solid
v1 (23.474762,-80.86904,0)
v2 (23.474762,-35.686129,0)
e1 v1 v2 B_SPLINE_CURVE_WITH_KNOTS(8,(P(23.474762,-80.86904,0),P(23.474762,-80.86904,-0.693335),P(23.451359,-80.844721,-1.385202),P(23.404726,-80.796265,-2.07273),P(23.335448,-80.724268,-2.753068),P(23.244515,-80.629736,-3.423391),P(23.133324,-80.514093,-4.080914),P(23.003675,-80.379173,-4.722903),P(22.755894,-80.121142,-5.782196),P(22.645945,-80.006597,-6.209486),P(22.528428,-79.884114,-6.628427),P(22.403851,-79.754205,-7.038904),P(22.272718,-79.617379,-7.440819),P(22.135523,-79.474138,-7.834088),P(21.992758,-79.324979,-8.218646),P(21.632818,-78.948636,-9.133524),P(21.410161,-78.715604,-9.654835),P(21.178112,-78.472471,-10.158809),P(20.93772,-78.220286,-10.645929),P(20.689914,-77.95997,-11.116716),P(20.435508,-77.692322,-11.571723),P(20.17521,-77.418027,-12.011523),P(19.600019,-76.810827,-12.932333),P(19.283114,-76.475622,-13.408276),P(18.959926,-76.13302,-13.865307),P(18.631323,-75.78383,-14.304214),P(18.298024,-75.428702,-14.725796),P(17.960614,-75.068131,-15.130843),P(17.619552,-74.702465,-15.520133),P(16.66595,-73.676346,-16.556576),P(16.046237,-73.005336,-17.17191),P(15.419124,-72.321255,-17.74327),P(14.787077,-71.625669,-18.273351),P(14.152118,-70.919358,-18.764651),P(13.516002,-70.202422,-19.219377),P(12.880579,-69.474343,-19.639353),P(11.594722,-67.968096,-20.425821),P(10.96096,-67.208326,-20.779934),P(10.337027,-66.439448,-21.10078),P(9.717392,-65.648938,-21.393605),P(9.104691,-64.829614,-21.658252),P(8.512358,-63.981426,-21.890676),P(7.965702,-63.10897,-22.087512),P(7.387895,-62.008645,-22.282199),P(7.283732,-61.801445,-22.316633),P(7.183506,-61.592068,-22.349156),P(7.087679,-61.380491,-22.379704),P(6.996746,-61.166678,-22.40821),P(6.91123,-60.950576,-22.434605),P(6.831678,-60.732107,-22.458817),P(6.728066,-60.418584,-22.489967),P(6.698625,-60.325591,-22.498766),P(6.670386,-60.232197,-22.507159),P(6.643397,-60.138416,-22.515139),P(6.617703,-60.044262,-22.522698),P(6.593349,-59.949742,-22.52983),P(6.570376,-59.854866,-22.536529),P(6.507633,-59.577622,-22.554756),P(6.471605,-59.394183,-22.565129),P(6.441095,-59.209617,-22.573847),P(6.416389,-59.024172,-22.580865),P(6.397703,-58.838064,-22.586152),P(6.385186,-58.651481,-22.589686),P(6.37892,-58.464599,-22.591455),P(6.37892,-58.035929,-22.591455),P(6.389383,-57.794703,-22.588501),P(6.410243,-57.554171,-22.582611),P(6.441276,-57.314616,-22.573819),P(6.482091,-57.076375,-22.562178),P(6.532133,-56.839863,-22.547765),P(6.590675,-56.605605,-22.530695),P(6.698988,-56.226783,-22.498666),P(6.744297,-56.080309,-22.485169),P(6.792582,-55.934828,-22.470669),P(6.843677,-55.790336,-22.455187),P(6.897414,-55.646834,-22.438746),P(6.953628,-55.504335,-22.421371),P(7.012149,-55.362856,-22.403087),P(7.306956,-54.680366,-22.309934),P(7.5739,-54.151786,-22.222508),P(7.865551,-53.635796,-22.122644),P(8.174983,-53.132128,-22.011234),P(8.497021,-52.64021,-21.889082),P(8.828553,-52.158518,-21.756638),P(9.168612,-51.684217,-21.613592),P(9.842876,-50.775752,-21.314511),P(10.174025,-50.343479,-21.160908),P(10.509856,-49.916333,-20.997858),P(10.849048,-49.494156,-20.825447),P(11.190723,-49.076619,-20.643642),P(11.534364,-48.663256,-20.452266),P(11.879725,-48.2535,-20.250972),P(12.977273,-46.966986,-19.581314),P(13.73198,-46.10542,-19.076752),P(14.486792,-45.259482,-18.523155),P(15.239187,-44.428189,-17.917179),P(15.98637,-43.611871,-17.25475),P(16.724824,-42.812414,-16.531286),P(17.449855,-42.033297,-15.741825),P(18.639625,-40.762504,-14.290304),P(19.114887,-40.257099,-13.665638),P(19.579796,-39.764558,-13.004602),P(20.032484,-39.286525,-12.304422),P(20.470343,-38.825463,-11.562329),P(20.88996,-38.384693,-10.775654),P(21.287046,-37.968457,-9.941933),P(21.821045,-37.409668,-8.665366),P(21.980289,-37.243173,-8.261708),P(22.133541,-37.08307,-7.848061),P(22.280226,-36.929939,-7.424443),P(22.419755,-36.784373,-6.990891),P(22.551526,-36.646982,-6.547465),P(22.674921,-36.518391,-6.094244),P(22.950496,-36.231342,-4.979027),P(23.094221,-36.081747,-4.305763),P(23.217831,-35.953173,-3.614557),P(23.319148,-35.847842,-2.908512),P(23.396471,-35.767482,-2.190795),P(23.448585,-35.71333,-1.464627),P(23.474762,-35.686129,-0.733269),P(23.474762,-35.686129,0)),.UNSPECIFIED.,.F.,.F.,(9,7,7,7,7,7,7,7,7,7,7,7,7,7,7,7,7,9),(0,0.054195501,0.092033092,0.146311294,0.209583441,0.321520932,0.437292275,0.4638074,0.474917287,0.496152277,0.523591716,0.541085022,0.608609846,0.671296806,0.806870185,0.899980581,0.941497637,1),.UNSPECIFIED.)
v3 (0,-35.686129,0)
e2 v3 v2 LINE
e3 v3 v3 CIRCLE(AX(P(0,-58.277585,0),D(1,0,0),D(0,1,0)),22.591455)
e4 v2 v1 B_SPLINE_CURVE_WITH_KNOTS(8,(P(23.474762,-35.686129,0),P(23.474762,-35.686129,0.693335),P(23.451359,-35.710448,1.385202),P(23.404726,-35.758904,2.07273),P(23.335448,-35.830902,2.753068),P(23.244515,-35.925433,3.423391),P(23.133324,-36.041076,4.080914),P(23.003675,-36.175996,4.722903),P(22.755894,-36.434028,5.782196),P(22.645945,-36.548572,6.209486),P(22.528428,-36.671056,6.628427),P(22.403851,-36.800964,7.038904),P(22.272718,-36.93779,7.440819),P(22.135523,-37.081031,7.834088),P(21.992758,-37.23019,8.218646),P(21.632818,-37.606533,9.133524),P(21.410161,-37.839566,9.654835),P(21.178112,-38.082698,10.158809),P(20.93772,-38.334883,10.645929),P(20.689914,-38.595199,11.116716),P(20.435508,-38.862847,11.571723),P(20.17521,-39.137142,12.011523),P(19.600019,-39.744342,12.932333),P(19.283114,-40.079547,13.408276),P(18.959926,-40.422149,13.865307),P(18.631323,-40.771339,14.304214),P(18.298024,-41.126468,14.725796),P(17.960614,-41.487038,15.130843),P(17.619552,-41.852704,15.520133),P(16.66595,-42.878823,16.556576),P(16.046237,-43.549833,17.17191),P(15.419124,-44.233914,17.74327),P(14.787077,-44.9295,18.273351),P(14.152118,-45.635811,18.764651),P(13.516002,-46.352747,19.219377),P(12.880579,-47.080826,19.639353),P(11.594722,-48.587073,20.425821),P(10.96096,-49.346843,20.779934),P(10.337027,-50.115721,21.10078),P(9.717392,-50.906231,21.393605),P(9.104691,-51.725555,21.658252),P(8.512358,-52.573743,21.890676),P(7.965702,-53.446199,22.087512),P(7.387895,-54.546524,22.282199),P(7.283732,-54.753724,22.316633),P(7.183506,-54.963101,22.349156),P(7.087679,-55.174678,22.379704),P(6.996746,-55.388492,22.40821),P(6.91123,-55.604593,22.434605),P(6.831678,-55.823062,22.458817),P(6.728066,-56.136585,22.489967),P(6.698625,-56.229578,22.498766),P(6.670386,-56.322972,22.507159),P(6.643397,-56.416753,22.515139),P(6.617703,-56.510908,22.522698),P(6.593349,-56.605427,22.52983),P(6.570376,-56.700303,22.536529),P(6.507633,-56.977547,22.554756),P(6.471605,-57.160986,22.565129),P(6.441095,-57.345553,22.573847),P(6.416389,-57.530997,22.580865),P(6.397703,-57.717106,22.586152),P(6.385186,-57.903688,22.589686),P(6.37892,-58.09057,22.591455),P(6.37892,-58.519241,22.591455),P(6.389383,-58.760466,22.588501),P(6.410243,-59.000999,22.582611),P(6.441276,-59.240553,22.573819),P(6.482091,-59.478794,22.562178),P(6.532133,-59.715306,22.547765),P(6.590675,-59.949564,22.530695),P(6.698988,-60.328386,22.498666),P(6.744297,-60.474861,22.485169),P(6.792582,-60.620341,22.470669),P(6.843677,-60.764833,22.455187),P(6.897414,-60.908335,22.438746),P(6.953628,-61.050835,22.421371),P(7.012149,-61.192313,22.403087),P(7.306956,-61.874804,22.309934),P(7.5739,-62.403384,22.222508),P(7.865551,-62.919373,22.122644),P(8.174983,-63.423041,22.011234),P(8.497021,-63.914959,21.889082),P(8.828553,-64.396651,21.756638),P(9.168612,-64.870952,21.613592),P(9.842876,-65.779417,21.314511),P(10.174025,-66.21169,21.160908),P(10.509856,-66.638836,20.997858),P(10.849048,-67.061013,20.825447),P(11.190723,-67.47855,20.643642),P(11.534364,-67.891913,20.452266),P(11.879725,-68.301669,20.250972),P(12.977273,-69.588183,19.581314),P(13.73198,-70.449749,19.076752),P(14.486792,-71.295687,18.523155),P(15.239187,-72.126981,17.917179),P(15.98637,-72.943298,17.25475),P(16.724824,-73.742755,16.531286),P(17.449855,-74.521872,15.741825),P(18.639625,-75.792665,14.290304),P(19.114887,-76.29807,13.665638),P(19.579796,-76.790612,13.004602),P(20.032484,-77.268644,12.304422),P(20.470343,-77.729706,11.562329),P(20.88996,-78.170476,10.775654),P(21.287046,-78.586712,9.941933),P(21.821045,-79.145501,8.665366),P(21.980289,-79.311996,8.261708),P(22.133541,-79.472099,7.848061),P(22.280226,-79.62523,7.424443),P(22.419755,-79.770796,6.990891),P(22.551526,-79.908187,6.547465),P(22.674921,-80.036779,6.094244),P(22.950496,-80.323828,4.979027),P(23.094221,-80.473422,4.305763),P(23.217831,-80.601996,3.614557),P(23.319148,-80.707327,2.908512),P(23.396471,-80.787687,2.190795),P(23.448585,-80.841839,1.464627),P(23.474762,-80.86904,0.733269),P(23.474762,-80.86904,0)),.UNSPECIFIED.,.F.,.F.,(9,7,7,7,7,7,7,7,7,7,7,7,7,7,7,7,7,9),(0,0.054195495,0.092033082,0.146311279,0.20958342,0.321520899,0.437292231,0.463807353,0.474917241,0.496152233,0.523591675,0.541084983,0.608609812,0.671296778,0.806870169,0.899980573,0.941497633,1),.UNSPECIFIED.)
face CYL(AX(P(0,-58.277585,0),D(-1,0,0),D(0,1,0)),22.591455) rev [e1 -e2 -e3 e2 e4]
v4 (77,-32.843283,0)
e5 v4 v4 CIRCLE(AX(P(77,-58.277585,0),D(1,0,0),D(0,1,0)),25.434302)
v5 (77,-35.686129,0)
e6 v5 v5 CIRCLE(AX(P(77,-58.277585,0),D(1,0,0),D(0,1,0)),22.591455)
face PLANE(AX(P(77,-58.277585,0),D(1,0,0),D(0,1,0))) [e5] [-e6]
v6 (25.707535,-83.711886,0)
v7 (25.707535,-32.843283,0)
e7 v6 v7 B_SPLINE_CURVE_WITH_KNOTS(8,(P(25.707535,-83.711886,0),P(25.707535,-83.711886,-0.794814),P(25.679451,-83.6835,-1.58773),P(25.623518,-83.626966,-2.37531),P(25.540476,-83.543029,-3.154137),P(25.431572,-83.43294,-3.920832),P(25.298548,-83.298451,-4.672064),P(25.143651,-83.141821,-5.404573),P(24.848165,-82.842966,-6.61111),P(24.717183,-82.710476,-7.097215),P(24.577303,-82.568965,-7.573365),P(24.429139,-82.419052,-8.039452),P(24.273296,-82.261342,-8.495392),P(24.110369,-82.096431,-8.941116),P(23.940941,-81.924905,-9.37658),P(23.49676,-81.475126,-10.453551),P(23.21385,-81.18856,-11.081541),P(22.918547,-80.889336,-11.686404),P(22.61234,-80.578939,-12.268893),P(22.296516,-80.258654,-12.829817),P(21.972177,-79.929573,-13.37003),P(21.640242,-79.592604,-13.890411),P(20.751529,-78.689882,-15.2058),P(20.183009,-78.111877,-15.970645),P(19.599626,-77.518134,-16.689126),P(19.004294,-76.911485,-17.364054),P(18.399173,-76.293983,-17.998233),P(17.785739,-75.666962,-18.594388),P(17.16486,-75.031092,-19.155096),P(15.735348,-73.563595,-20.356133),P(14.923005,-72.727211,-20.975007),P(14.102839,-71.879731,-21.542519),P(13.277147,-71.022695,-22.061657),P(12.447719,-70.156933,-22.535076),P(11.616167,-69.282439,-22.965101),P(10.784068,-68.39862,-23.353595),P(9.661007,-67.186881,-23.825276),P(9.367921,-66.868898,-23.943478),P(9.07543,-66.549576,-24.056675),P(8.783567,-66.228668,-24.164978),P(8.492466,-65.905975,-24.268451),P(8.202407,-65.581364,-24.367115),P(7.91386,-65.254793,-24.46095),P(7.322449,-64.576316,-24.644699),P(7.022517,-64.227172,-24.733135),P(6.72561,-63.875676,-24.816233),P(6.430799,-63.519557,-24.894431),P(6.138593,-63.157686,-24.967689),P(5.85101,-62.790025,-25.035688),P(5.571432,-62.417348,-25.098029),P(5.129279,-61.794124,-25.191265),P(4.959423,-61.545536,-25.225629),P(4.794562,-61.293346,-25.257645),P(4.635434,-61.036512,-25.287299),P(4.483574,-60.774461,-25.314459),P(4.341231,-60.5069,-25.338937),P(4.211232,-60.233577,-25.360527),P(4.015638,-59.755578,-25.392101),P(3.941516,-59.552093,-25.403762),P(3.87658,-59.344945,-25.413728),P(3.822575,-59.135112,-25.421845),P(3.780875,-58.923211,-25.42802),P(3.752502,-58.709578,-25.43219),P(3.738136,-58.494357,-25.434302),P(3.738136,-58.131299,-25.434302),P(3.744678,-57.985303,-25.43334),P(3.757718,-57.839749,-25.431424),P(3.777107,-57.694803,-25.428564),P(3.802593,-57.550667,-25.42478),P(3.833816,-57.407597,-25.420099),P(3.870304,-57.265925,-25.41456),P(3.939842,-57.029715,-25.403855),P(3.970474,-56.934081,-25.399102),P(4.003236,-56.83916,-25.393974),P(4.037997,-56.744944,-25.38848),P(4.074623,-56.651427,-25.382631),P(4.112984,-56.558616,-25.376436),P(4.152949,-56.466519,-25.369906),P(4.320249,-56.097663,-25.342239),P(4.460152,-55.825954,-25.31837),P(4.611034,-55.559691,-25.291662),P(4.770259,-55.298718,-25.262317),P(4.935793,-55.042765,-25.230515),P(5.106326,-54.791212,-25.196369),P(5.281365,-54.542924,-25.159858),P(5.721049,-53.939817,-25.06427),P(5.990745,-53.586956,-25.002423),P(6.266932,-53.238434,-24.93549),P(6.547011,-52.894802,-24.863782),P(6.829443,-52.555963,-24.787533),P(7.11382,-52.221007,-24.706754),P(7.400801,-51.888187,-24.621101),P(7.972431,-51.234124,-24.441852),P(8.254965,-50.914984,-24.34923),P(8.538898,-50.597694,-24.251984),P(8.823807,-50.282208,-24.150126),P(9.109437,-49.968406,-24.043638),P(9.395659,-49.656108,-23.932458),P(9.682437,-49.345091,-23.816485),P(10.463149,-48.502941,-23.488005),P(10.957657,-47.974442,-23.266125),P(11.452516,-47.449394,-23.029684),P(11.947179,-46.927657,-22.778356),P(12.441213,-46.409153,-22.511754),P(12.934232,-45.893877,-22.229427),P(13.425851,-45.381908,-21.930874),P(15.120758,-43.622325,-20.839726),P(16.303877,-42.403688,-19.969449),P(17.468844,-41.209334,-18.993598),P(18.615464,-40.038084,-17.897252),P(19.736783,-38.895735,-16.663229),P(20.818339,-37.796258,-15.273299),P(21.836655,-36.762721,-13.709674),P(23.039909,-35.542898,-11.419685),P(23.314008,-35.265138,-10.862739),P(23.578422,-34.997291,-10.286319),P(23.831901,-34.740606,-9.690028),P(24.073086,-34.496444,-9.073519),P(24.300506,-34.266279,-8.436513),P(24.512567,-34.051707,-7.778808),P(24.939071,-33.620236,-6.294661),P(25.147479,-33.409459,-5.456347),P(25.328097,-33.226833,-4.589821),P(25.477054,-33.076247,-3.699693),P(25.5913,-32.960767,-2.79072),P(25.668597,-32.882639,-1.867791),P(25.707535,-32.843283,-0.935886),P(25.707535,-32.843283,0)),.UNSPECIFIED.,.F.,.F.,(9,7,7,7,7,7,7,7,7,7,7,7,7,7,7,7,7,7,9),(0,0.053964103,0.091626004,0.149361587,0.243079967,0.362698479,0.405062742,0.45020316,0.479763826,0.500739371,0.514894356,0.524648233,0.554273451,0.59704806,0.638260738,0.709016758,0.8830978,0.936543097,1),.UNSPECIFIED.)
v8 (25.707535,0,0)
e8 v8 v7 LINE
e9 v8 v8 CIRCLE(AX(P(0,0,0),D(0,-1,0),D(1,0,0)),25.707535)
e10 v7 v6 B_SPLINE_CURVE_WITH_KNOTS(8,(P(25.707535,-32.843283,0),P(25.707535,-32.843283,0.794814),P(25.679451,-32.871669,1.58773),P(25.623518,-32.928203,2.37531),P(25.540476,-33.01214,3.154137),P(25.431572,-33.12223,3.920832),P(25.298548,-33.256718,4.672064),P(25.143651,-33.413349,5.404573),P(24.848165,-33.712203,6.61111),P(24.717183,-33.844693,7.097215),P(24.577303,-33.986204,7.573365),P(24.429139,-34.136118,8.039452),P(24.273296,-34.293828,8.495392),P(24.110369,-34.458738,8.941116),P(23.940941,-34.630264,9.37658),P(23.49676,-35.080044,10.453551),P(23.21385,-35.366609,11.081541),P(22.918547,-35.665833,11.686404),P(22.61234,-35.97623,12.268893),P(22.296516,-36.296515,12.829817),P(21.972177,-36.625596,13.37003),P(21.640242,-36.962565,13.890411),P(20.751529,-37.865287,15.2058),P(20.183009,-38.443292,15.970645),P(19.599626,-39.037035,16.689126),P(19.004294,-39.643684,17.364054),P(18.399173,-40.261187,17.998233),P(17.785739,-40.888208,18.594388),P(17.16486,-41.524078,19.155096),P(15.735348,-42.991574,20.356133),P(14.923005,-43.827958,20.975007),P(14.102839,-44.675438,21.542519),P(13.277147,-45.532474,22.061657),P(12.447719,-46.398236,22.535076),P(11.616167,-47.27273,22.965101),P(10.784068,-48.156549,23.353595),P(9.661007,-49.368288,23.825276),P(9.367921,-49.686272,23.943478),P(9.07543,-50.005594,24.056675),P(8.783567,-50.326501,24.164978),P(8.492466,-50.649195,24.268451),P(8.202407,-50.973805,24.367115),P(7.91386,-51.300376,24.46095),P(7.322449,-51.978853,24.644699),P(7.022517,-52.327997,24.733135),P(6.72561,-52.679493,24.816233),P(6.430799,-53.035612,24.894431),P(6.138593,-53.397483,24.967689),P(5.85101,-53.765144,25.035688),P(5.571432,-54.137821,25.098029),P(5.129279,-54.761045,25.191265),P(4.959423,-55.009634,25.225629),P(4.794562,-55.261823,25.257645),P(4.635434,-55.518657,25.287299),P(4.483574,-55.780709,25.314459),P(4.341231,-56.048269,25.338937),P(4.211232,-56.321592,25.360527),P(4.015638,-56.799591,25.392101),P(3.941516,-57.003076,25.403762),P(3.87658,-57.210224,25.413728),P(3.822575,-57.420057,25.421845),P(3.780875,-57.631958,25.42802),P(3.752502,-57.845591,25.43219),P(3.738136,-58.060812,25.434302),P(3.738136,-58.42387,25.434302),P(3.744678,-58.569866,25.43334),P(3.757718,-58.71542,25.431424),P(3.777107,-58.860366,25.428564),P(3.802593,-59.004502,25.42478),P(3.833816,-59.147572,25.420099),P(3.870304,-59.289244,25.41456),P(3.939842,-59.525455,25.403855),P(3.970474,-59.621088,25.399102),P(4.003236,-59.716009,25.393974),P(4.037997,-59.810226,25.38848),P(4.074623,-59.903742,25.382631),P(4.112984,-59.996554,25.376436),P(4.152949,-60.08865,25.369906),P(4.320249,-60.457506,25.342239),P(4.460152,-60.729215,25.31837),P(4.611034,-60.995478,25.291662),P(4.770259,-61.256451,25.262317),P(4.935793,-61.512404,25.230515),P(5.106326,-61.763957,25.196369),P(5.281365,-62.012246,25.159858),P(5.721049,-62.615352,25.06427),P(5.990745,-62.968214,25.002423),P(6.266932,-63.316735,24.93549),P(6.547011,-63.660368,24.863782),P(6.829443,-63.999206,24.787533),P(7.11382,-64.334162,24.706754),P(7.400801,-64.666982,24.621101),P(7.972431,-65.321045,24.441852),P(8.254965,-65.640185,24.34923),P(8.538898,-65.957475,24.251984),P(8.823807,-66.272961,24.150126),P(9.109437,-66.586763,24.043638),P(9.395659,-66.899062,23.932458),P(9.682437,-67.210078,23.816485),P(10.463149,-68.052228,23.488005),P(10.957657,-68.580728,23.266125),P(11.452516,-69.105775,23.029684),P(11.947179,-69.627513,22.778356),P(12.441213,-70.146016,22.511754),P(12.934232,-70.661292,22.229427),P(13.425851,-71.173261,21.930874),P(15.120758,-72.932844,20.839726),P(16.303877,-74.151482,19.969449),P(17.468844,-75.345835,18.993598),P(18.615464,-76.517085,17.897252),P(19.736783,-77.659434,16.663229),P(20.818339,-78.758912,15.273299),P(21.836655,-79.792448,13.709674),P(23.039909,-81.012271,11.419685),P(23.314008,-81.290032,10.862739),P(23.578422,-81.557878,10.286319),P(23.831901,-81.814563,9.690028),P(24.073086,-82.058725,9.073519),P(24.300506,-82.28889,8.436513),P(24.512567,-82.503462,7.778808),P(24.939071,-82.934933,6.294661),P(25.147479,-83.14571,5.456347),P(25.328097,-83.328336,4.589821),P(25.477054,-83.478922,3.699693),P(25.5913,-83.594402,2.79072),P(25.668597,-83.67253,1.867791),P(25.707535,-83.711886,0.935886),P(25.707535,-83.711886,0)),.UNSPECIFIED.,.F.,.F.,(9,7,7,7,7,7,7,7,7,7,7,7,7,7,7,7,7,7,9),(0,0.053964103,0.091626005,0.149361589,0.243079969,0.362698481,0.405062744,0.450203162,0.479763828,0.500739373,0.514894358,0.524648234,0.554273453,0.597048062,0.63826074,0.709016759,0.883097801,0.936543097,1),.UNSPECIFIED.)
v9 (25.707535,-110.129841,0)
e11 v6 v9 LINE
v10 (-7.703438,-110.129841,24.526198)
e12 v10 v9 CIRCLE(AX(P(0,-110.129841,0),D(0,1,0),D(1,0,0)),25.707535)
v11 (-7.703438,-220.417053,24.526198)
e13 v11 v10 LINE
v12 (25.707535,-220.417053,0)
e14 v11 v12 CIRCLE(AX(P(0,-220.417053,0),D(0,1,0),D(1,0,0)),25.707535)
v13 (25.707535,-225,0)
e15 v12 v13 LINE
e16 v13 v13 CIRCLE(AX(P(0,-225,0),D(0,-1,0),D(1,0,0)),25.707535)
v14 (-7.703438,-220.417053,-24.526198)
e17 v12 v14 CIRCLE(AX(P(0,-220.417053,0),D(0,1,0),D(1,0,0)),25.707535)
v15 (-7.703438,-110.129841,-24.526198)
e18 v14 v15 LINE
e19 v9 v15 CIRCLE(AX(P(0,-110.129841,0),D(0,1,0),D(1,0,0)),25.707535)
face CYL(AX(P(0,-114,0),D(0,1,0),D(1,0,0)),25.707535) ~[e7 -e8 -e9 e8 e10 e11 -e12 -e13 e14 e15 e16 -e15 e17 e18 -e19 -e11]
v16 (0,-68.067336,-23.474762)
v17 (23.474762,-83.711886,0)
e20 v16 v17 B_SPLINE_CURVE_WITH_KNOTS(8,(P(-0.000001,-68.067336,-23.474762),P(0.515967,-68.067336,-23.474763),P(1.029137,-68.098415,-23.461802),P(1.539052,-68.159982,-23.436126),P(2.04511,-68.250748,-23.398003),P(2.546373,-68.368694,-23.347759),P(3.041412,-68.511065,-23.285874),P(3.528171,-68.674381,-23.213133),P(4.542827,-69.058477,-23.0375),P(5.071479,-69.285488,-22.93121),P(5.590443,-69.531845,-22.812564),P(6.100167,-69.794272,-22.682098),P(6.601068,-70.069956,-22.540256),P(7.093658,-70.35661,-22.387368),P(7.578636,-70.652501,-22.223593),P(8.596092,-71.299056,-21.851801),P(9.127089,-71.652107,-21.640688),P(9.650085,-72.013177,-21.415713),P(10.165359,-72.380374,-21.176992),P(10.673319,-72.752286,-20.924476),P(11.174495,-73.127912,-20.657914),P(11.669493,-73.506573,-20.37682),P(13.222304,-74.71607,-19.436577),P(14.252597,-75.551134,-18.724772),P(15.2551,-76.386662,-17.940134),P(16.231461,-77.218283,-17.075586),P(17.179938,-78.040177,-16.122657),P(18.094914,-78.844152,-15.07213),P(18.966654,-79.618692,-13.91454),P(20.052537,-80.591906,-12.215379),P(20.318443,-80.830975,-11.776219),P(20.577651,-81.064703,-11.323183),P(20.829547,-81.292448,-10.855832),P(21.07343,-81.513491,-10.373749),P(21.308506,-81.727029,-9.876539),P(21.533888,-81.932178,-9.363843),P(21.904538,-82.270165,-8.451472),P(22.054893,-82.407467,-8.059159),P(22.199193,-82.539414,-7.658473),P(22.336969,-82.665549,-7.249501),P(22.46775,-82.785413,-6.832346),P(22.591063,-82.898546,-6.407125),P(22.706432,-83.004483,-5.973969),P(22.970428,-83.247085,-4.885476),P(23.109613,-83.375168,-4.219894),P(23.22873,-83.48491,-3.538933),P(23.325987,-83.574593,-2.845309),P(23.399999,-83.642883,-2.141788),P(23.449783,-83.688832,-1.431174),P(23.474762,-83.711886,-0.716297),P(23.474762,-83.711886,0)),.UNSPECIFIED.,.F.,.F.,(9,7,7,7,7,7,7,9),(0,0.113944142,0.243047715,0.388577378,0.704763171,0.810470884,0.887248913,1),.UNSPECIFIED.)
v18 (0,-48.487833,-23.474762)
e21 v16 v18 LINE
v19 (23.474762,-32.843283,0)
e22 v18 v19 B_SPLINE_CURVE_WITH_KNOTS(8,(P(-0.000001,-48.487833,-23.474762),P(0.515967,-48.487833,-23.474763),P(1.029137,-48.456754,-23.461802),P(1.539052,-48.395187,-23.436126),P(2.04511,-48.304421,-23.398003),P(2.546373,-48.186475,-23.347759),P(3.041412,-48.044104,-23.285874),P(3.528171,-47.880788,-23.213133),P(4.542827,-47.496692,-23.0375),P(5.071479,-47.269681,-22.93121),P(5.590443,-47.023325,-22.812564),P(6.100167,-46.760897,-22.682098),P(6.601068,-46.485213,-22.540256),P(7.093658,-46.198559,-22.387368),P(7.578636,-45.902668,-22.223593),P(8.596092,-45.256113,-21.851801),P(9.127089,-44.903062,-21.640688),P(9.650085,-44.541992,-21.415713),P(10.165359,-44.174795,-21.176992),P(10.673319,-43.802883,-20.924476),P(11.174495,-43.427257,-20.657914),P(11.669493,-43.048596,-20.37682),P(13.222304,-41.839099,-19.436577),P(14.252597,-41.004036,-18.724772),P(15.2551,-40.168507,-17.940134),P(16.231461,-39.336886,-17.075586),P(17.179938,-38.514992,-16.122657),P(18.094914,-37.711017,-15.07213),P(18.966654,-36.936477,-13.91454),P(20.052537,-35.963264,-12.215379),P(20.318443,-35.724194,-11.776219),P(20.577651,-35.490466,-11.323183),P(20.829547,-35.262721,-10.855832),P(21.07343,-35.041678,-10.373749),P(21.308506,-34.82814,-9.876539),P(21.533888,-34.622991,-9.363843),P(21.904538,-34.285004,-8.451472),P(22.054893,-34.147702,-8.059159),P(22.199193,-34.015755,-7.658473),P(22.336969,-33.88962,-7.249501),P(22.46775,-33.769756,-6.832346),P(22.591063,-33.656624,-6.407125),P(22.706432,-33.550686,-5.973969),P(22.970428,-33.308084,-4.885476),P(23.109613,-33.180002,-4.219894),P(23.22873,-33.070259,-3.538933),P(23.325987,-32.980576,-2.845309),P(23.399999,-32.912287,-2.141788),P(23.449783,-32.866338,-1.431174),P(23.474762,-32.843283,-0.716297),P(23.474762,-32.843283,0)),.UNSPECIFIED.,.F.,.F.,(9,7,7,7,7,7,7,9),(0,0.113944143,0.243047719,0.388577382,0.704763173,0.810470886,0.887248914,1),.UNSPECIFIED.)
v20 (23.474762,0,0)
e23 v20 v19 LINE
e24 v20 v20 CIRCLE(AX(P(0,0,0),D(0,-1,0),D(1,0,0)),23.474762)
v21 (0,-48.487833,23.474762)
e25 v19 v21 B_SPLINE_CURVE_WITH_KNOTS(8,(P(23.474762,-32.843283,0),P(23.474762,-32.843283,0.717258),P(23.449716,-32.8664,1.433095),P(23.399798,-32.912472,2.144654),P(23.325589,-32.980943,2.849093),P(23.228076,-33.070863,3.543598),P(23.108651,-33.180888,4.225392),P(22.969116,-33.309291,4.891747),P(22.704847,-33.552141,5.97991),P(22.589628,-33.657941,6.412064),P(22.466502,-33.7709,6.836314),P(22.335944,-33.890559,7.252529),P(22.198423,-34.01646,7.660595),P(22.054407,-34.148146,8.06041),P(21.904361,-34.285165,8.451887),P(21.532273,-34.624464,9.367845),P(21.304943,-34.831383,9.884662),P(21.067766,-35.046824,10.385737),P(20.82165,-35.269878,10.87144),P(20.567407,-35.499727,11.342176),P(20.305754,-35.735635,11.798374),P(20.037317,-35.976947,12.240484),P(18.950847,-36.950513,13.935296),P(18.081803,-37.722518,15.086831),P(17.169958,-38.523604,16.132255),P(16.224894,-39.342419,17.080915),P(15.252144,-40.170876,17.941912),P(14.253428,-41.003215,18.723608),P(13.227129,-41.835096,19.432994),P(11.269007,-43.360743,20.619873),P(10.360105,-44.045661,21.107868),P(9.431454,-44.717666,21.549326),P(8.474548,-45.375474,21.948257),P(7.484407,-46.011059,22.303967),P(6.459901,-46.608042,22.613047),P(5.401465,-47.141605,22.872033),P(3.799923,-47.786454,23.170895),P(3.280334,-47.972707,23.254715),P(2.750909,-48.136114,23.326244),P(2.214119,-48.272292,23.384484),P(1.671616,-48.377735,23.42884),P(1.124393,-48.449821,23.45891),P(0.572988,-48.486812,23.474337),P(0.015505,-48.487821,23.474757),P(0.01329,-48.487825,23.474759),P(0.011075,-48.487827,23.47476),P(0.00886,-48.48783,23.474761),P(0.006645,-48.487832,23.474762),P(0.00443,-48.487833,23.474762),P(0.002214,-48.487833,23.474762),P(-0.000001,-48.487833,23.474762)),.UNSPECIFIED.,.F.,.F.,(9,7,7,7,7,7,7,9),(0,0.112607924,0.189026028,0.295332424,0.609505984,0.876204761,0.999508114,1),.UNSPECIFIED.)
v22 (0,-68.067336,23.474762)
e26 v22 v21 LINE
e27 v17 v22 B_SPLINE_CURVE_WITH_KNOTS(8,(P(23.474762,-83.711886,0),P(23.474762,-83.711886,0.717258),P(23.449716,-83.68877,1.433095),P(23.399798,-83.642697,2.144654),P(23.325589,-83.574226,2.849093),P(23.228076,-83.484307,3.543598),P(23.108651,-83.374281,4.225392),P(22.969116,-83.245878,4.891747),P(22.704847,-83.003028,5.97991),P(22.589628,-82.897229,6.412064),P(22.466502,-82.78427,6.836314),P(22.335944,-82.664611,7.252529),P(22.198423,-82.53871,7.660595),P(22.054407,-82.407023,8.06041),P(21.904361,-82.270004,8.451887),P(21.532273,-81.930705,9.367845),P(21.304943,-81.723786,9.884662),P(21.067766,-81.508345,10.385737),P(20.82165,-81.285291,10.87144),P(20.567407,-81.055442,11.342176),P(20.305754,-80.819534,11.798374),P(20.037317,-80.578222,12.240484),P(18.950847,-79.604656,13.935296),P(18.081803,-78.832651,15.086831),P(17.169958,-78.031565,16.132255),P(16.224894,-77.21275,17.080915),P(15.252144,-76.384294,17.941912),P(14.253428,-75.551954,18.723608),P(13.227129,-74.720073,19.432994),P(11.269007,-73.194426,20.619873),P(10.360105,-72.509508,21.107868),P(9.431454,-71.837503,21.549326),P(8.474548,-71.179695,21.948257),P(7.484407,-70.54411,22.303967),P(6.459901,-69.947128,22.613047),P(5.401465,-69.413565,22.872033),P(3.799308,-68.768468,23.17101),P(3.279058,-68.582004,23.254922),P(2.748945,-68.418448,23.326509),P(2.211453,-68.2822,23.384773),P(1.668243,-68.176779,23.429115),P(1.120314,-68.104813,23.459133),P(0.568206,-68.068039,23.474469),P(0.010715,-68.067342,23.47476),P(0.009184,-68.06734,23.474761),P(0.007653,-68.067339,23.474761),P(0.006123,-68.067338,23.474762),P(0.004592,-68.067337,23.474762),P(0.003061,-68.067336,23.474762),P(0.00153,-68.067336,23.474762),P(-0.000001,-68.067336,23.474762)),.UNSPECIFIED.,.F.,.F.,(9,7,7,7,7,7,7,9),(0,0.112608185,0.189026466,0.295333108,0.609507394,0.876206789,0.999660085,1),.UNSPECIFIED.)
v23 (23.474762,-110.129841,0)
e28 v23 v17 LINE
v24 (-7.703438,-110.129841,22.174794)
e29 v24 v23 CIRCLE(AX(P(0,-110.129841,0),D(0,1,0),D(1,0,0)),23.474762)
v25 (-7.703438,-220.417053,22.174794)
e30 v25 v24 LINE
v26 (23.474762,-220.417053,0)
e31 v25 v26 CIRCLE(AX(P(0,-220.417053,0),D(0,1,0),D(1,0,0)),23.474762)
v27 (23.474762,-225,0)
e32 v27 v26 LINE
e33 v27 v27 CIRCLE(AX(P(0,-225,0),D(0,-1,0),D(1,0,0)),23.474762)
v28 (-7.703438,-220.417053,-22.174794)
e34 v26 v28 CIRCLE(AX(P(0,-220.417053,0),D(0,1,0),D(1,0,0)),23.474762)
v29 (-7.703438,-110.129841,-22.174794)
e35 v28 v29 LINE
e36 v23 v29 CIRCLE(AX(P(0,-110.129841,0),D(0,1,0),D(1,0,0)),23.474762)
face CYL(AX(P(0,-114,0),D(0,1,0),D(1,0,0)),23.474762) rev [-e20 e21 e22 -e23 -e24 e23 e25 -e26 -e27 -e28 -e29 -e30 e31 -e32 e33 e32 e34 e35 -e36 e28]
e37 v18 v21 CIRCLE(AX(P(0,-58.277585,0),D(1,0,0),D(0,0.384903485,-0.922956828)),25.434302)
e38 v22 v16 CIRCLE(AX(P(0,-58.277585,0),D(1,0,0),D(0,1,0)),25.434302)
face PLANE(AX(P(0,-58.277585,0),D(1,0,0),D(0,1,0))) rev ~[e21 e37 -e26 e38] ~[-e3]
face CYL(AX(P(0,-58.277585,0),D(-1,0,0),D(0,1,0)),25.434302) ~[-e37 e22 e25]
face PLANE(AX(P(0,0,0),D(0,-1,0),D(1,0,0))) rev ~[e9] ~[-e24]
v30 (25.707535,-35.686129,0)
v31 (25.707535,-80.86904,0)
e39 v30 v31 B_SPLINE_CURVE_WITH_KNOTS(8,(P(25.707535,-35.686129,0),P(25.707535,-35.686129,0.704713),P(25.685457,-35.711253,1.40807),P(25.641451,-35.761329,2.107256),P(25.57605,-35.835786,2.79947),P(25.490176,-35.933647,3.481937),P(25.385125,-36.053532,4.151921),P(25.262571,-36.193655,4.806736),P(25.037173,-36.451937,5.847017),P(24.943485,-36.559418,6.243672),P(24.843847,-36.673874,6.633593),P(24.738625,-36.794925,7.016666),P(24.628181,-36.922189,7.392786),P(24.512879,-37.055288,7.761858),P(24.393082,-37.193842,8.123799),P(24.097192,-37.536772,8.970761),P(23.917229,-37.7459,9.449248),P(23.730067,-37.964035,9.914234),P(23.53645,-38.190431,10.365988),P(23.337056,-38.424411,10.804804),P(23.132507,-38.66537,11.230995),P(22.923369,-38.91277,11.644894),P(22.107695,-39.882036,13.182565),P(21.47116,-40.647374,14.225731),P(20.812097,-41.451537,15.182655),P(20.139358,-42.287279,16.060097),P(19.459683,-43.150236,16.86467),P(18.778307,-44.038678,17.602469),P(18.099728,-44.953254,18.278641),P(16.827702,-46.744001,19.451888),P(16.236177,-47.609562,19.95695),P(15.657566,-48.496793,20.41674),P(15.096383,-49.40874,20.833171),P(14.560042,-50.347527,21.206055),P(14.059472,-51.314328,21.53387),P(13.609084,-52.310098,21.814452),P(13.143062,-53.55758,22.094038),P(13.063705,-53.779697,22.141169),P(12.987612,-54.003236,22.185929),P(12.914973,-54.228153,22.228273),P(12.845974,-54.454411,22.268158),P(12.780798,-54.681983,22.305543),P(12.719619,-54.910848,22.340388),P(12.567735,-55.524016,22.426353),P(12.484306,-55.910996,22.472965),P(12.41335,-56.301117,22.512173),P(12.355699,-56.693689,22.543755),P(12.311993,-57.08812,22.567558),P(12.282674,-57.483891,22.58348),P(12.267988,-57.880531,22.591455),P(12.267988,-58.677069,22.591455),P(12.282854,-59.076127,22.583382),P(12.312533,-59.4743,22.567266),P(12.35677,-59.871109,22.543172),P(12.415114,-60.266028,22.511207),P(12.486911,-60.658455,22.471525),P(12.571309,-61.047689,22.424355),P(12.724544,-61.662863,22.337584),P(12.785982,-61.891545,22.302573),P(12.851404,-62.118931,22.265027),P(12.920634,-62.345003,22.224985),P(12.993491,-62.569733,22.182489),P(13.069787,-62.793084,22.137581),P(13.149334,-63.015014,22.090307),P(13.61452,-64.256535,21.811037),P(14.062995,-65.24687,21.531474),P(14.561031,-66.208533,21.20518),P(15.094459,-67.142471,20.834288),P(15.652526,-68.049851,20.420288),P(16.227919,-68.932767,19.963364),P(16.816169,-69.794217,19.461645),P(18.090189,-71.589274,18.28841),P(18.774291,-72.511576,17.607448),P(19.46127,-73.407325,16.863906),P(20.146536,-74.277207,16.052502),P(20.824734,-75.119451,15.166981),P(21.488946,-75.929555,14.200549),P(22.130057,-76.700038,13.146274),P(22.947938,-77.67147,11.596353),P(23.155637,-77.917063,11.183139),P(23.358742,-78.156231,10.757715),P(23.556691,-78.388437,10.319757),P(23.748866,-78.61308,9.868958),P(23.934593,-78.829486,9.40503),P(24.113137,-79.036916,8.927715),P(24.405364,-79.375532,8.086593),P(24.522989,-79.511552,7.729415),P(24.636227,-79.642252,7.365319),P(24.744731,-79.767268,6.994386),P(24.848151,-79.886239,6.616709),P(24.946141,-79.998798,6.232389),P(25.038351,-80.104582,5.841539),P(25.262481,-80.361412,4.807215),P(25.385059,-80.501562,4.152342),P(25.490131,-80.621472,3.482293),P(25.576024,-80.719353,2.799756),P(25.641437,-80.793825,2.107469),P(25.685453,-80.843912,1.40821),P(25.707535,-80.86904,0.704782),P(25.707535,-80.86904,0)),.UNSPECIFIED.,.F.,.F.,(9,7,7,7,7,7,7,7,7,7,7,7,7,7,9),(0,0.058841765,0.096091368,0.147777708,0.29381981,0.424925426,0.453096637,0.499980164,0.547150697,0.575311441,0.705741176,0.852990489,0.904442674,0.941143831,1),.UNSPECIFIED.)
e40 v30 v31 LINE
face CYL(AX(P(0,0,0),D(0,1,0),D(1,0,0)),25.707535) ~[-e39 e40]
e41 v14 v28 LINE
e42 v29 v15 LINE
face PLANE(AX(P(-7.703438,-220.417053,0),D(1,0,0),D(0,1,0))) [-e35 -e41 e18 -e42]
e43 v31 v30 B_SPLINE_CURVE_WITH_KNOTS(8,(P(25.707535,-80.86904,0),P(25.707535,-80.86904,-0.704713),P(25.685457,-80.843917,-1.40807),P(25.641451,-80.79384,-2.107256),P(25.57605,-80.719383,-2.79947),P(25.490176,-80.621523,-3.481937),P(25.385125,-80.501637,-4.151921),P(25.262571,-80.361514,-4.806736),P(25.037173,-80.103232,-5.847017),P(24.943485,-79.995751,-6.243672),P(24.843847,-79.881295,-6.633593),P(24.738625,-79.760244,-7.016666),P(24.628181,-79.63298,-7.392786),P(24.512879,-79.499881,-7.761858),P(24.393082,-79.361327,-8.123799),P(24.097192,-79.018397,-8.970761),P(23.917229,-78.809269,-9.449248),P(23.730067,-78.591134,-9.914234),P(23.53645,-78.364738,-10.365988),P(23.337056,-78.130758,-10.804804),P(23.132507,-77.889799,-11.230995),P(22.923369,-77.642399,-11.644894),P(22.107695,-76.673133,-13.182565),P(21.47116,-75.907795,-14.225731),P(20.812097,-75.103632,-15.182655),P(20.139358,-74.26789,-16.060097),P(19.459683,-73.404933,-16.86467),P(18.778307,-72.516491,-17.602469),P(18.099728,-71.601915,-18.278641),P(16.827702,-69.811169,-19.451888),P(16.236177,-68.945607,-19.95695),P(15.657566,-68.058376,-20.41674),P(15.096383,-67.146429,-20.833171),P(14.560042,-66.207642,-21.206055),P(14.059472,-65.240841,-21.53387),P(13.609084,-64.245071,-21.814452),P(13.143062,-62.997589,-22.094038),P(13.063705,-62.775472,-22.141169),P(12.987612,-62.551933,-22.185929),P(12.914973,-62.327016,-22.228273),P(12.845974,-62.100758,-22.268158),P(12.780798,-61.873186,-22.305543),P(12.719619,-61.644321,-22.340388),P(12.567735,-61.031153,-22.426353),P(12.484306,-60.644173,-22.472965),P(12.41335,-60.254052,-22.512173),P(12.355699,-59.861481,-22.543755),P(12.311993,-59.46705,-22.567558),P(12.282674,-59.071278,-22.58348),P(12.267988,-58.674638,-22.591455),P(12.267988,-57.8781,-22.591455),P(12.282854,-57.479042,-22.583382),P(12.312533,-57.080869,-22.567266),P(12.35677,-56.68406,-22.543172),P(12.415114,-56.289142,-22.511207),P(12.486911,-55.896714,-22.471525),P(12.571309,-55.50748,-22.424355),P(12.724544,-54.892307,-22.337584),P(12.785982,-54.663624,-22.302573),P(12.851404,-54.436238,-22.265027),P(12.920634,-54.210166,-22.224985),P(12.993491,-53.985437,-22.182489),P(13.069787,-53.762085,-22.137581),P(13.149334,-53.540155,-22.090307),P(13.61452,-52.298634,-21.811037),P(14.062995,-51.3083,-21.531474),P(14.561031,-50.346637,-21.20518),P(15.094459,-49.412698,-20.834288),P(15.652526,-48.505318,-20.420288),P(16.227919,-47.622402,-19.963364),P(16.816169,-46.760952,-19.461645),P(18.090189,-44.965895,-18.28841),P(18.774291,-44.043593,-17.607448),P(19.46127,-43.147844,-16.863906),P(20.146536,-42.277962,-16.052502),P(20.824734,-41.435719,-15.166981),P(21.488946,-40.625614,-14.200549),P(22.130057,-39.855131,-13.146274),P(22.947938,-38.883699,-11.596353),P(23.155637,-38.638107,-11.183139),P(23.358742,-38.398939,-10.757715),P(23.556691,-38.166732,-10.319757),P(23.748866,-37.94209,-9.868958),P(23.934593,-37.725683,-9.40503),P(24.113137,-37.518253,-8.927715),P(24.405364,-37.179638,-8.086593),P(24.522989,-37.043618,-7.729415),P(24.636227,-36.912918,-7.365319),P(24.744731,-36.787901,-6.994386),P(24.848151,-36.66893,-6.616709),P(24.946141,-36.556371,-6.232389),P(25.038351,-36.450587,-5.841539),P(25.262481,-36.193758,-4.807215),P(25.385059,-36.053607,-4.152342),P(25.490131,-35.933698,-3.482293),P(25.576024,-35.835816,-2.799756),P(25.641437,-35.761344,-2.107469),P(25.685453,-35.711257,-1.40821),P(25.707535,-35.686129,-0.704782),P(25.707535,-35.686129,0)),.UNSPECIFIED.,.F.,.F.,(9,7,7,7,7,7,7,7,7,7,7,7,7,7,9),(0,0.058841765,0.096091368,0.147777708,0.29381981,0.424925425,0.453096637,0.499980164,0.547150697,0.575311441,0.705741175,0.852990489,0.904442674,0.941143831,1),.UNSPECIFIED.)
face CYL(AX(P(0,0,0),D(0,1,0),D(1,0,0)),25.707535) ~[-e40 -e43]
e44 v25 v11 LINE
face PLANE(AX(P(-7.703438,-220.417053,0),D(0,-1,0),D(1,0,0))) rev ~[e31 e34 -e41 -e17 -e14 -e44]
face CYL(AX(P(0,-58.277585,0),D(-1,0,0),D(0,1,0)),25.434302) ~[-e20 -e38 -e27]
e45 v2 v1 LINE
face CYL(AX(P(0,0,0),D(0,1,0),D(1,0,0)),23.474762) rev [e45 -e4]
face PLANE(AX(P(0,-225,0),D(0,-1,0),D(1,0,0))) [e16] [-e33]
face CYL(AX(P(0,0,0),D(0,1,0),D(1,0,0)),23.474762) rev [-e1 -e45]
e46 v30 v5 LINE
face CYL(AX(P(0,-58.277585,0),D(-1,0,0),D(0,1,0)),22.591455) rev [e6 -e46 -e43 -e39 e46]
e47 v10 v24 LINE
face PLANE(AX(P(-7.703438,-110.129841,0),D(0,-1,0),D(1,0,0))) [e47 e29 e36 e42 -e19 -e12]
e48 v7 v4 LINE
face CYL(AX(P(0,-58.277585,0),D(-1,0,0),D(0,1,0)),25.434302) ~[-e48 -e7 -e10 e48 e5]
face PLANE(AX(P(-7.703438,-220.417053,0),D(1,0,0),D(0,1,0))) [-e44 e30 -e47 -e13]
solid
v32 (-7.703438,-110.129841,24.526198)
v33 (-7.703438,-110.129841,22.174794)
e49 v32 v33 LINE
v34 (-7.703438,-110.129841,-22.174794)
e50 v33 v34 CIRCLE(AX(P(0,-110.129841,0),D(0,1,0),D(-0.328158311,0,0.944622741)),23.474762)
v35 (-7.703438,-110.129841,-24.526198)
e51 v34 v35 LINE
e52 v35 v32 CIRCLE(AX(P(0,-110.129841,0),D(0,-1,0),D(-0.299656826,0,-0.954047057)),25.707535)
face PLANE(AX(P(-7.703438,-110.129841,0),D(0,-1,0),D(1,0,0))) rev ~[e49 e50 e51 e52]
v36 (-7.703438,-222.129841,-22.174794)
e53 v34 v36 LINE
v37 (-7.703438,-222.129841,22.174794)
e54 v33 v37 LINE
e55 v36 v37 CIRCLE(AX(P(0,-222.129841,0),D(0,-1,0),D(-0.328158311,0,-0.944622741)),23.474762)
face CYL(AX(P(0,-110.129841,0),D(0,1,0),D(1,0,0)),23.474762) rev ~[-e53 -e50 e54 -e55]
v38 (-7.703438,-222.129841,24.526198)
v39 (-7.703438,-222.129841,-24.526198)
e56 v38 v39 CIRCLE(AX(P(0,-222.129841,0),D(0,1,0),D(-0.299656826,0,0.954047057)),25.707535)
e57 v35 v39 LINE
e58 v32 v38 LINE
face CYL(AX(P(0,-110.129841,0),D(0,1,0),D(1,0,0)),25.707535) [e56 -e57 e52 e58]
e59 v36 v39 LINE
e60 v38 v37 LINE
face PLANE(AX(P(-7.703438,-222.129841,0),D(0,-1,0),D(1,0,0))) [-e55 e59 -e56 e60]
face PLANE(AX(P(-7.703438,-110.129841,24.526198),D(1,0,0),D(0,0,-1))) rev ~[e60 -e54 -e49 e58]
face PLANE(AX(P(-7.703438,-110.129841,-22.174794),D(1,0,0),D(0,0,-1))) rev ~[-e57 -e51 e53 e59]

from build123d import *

# Parameters (mm, degrees)
F0_R     = 25.7075351744
F0_R_2   = 23.4747624904
F1_DEPTH = 114
F2_R     = 25.4343017655
F2_R_2   = 22.5914551843
F3_DEPTH = 77
F4_DEPTH = 111
F5_W     = 45.2958606184
F5_H     = 110.2872118354
F6_DEPTH = 50
F7_DEPTH = 112


with BuildPart() as f1:
    # F0 (on Front) → F1 (new body)
    with BuildSketch(Plane.XZ):
        Circle(F0_R)
        Circle(F0_R_2, mode=Mode.SUBTRACT)
    extrude(amount=F1_DEPTH)

    # F2 (on Right) → F3 (join)
    with BuildSketch(Plane.YZ):
        with Locations((-58.2775846124, 0)):
            Circle(F2_R)
        with Locations((-58.2775846124, 0)):
            Circle(F2_R_2, mode=Mode.SUBTRACT)
    extrude(amount=F3_DEPTH)

    # F4 (add): a face of the model
    f4_faces = [f1.faces().sort_by_distance(p)[0] for p in [
        (-24.9804162765, -114, 0),
    ]]
    extrude(f4_faces, amount=F4_DEPTH)

    # F5 (on Top) → F6 (cut, symmetric)
    with BuildSketch(Plane.XY):
        with Locations((14.944491908, -165.2734465897)):
            Rectangle(F5_W, F5_H)
    extrude(amount=F6_DEPTH, both=True, mode=Mode.SUBTRACT)


with BuildPart() as f7:
    # F7 (new): a face of the model
    f7_faces = [f1.part.faces().sort_by_distance(p)[0] for p in [
        (14.8496639637, -110.129840672, -20.2290515983),
    ]]
    extrude(f7_faces, amount=F7_DEPTH)


solid = Compound([f1.part, f7.part])
